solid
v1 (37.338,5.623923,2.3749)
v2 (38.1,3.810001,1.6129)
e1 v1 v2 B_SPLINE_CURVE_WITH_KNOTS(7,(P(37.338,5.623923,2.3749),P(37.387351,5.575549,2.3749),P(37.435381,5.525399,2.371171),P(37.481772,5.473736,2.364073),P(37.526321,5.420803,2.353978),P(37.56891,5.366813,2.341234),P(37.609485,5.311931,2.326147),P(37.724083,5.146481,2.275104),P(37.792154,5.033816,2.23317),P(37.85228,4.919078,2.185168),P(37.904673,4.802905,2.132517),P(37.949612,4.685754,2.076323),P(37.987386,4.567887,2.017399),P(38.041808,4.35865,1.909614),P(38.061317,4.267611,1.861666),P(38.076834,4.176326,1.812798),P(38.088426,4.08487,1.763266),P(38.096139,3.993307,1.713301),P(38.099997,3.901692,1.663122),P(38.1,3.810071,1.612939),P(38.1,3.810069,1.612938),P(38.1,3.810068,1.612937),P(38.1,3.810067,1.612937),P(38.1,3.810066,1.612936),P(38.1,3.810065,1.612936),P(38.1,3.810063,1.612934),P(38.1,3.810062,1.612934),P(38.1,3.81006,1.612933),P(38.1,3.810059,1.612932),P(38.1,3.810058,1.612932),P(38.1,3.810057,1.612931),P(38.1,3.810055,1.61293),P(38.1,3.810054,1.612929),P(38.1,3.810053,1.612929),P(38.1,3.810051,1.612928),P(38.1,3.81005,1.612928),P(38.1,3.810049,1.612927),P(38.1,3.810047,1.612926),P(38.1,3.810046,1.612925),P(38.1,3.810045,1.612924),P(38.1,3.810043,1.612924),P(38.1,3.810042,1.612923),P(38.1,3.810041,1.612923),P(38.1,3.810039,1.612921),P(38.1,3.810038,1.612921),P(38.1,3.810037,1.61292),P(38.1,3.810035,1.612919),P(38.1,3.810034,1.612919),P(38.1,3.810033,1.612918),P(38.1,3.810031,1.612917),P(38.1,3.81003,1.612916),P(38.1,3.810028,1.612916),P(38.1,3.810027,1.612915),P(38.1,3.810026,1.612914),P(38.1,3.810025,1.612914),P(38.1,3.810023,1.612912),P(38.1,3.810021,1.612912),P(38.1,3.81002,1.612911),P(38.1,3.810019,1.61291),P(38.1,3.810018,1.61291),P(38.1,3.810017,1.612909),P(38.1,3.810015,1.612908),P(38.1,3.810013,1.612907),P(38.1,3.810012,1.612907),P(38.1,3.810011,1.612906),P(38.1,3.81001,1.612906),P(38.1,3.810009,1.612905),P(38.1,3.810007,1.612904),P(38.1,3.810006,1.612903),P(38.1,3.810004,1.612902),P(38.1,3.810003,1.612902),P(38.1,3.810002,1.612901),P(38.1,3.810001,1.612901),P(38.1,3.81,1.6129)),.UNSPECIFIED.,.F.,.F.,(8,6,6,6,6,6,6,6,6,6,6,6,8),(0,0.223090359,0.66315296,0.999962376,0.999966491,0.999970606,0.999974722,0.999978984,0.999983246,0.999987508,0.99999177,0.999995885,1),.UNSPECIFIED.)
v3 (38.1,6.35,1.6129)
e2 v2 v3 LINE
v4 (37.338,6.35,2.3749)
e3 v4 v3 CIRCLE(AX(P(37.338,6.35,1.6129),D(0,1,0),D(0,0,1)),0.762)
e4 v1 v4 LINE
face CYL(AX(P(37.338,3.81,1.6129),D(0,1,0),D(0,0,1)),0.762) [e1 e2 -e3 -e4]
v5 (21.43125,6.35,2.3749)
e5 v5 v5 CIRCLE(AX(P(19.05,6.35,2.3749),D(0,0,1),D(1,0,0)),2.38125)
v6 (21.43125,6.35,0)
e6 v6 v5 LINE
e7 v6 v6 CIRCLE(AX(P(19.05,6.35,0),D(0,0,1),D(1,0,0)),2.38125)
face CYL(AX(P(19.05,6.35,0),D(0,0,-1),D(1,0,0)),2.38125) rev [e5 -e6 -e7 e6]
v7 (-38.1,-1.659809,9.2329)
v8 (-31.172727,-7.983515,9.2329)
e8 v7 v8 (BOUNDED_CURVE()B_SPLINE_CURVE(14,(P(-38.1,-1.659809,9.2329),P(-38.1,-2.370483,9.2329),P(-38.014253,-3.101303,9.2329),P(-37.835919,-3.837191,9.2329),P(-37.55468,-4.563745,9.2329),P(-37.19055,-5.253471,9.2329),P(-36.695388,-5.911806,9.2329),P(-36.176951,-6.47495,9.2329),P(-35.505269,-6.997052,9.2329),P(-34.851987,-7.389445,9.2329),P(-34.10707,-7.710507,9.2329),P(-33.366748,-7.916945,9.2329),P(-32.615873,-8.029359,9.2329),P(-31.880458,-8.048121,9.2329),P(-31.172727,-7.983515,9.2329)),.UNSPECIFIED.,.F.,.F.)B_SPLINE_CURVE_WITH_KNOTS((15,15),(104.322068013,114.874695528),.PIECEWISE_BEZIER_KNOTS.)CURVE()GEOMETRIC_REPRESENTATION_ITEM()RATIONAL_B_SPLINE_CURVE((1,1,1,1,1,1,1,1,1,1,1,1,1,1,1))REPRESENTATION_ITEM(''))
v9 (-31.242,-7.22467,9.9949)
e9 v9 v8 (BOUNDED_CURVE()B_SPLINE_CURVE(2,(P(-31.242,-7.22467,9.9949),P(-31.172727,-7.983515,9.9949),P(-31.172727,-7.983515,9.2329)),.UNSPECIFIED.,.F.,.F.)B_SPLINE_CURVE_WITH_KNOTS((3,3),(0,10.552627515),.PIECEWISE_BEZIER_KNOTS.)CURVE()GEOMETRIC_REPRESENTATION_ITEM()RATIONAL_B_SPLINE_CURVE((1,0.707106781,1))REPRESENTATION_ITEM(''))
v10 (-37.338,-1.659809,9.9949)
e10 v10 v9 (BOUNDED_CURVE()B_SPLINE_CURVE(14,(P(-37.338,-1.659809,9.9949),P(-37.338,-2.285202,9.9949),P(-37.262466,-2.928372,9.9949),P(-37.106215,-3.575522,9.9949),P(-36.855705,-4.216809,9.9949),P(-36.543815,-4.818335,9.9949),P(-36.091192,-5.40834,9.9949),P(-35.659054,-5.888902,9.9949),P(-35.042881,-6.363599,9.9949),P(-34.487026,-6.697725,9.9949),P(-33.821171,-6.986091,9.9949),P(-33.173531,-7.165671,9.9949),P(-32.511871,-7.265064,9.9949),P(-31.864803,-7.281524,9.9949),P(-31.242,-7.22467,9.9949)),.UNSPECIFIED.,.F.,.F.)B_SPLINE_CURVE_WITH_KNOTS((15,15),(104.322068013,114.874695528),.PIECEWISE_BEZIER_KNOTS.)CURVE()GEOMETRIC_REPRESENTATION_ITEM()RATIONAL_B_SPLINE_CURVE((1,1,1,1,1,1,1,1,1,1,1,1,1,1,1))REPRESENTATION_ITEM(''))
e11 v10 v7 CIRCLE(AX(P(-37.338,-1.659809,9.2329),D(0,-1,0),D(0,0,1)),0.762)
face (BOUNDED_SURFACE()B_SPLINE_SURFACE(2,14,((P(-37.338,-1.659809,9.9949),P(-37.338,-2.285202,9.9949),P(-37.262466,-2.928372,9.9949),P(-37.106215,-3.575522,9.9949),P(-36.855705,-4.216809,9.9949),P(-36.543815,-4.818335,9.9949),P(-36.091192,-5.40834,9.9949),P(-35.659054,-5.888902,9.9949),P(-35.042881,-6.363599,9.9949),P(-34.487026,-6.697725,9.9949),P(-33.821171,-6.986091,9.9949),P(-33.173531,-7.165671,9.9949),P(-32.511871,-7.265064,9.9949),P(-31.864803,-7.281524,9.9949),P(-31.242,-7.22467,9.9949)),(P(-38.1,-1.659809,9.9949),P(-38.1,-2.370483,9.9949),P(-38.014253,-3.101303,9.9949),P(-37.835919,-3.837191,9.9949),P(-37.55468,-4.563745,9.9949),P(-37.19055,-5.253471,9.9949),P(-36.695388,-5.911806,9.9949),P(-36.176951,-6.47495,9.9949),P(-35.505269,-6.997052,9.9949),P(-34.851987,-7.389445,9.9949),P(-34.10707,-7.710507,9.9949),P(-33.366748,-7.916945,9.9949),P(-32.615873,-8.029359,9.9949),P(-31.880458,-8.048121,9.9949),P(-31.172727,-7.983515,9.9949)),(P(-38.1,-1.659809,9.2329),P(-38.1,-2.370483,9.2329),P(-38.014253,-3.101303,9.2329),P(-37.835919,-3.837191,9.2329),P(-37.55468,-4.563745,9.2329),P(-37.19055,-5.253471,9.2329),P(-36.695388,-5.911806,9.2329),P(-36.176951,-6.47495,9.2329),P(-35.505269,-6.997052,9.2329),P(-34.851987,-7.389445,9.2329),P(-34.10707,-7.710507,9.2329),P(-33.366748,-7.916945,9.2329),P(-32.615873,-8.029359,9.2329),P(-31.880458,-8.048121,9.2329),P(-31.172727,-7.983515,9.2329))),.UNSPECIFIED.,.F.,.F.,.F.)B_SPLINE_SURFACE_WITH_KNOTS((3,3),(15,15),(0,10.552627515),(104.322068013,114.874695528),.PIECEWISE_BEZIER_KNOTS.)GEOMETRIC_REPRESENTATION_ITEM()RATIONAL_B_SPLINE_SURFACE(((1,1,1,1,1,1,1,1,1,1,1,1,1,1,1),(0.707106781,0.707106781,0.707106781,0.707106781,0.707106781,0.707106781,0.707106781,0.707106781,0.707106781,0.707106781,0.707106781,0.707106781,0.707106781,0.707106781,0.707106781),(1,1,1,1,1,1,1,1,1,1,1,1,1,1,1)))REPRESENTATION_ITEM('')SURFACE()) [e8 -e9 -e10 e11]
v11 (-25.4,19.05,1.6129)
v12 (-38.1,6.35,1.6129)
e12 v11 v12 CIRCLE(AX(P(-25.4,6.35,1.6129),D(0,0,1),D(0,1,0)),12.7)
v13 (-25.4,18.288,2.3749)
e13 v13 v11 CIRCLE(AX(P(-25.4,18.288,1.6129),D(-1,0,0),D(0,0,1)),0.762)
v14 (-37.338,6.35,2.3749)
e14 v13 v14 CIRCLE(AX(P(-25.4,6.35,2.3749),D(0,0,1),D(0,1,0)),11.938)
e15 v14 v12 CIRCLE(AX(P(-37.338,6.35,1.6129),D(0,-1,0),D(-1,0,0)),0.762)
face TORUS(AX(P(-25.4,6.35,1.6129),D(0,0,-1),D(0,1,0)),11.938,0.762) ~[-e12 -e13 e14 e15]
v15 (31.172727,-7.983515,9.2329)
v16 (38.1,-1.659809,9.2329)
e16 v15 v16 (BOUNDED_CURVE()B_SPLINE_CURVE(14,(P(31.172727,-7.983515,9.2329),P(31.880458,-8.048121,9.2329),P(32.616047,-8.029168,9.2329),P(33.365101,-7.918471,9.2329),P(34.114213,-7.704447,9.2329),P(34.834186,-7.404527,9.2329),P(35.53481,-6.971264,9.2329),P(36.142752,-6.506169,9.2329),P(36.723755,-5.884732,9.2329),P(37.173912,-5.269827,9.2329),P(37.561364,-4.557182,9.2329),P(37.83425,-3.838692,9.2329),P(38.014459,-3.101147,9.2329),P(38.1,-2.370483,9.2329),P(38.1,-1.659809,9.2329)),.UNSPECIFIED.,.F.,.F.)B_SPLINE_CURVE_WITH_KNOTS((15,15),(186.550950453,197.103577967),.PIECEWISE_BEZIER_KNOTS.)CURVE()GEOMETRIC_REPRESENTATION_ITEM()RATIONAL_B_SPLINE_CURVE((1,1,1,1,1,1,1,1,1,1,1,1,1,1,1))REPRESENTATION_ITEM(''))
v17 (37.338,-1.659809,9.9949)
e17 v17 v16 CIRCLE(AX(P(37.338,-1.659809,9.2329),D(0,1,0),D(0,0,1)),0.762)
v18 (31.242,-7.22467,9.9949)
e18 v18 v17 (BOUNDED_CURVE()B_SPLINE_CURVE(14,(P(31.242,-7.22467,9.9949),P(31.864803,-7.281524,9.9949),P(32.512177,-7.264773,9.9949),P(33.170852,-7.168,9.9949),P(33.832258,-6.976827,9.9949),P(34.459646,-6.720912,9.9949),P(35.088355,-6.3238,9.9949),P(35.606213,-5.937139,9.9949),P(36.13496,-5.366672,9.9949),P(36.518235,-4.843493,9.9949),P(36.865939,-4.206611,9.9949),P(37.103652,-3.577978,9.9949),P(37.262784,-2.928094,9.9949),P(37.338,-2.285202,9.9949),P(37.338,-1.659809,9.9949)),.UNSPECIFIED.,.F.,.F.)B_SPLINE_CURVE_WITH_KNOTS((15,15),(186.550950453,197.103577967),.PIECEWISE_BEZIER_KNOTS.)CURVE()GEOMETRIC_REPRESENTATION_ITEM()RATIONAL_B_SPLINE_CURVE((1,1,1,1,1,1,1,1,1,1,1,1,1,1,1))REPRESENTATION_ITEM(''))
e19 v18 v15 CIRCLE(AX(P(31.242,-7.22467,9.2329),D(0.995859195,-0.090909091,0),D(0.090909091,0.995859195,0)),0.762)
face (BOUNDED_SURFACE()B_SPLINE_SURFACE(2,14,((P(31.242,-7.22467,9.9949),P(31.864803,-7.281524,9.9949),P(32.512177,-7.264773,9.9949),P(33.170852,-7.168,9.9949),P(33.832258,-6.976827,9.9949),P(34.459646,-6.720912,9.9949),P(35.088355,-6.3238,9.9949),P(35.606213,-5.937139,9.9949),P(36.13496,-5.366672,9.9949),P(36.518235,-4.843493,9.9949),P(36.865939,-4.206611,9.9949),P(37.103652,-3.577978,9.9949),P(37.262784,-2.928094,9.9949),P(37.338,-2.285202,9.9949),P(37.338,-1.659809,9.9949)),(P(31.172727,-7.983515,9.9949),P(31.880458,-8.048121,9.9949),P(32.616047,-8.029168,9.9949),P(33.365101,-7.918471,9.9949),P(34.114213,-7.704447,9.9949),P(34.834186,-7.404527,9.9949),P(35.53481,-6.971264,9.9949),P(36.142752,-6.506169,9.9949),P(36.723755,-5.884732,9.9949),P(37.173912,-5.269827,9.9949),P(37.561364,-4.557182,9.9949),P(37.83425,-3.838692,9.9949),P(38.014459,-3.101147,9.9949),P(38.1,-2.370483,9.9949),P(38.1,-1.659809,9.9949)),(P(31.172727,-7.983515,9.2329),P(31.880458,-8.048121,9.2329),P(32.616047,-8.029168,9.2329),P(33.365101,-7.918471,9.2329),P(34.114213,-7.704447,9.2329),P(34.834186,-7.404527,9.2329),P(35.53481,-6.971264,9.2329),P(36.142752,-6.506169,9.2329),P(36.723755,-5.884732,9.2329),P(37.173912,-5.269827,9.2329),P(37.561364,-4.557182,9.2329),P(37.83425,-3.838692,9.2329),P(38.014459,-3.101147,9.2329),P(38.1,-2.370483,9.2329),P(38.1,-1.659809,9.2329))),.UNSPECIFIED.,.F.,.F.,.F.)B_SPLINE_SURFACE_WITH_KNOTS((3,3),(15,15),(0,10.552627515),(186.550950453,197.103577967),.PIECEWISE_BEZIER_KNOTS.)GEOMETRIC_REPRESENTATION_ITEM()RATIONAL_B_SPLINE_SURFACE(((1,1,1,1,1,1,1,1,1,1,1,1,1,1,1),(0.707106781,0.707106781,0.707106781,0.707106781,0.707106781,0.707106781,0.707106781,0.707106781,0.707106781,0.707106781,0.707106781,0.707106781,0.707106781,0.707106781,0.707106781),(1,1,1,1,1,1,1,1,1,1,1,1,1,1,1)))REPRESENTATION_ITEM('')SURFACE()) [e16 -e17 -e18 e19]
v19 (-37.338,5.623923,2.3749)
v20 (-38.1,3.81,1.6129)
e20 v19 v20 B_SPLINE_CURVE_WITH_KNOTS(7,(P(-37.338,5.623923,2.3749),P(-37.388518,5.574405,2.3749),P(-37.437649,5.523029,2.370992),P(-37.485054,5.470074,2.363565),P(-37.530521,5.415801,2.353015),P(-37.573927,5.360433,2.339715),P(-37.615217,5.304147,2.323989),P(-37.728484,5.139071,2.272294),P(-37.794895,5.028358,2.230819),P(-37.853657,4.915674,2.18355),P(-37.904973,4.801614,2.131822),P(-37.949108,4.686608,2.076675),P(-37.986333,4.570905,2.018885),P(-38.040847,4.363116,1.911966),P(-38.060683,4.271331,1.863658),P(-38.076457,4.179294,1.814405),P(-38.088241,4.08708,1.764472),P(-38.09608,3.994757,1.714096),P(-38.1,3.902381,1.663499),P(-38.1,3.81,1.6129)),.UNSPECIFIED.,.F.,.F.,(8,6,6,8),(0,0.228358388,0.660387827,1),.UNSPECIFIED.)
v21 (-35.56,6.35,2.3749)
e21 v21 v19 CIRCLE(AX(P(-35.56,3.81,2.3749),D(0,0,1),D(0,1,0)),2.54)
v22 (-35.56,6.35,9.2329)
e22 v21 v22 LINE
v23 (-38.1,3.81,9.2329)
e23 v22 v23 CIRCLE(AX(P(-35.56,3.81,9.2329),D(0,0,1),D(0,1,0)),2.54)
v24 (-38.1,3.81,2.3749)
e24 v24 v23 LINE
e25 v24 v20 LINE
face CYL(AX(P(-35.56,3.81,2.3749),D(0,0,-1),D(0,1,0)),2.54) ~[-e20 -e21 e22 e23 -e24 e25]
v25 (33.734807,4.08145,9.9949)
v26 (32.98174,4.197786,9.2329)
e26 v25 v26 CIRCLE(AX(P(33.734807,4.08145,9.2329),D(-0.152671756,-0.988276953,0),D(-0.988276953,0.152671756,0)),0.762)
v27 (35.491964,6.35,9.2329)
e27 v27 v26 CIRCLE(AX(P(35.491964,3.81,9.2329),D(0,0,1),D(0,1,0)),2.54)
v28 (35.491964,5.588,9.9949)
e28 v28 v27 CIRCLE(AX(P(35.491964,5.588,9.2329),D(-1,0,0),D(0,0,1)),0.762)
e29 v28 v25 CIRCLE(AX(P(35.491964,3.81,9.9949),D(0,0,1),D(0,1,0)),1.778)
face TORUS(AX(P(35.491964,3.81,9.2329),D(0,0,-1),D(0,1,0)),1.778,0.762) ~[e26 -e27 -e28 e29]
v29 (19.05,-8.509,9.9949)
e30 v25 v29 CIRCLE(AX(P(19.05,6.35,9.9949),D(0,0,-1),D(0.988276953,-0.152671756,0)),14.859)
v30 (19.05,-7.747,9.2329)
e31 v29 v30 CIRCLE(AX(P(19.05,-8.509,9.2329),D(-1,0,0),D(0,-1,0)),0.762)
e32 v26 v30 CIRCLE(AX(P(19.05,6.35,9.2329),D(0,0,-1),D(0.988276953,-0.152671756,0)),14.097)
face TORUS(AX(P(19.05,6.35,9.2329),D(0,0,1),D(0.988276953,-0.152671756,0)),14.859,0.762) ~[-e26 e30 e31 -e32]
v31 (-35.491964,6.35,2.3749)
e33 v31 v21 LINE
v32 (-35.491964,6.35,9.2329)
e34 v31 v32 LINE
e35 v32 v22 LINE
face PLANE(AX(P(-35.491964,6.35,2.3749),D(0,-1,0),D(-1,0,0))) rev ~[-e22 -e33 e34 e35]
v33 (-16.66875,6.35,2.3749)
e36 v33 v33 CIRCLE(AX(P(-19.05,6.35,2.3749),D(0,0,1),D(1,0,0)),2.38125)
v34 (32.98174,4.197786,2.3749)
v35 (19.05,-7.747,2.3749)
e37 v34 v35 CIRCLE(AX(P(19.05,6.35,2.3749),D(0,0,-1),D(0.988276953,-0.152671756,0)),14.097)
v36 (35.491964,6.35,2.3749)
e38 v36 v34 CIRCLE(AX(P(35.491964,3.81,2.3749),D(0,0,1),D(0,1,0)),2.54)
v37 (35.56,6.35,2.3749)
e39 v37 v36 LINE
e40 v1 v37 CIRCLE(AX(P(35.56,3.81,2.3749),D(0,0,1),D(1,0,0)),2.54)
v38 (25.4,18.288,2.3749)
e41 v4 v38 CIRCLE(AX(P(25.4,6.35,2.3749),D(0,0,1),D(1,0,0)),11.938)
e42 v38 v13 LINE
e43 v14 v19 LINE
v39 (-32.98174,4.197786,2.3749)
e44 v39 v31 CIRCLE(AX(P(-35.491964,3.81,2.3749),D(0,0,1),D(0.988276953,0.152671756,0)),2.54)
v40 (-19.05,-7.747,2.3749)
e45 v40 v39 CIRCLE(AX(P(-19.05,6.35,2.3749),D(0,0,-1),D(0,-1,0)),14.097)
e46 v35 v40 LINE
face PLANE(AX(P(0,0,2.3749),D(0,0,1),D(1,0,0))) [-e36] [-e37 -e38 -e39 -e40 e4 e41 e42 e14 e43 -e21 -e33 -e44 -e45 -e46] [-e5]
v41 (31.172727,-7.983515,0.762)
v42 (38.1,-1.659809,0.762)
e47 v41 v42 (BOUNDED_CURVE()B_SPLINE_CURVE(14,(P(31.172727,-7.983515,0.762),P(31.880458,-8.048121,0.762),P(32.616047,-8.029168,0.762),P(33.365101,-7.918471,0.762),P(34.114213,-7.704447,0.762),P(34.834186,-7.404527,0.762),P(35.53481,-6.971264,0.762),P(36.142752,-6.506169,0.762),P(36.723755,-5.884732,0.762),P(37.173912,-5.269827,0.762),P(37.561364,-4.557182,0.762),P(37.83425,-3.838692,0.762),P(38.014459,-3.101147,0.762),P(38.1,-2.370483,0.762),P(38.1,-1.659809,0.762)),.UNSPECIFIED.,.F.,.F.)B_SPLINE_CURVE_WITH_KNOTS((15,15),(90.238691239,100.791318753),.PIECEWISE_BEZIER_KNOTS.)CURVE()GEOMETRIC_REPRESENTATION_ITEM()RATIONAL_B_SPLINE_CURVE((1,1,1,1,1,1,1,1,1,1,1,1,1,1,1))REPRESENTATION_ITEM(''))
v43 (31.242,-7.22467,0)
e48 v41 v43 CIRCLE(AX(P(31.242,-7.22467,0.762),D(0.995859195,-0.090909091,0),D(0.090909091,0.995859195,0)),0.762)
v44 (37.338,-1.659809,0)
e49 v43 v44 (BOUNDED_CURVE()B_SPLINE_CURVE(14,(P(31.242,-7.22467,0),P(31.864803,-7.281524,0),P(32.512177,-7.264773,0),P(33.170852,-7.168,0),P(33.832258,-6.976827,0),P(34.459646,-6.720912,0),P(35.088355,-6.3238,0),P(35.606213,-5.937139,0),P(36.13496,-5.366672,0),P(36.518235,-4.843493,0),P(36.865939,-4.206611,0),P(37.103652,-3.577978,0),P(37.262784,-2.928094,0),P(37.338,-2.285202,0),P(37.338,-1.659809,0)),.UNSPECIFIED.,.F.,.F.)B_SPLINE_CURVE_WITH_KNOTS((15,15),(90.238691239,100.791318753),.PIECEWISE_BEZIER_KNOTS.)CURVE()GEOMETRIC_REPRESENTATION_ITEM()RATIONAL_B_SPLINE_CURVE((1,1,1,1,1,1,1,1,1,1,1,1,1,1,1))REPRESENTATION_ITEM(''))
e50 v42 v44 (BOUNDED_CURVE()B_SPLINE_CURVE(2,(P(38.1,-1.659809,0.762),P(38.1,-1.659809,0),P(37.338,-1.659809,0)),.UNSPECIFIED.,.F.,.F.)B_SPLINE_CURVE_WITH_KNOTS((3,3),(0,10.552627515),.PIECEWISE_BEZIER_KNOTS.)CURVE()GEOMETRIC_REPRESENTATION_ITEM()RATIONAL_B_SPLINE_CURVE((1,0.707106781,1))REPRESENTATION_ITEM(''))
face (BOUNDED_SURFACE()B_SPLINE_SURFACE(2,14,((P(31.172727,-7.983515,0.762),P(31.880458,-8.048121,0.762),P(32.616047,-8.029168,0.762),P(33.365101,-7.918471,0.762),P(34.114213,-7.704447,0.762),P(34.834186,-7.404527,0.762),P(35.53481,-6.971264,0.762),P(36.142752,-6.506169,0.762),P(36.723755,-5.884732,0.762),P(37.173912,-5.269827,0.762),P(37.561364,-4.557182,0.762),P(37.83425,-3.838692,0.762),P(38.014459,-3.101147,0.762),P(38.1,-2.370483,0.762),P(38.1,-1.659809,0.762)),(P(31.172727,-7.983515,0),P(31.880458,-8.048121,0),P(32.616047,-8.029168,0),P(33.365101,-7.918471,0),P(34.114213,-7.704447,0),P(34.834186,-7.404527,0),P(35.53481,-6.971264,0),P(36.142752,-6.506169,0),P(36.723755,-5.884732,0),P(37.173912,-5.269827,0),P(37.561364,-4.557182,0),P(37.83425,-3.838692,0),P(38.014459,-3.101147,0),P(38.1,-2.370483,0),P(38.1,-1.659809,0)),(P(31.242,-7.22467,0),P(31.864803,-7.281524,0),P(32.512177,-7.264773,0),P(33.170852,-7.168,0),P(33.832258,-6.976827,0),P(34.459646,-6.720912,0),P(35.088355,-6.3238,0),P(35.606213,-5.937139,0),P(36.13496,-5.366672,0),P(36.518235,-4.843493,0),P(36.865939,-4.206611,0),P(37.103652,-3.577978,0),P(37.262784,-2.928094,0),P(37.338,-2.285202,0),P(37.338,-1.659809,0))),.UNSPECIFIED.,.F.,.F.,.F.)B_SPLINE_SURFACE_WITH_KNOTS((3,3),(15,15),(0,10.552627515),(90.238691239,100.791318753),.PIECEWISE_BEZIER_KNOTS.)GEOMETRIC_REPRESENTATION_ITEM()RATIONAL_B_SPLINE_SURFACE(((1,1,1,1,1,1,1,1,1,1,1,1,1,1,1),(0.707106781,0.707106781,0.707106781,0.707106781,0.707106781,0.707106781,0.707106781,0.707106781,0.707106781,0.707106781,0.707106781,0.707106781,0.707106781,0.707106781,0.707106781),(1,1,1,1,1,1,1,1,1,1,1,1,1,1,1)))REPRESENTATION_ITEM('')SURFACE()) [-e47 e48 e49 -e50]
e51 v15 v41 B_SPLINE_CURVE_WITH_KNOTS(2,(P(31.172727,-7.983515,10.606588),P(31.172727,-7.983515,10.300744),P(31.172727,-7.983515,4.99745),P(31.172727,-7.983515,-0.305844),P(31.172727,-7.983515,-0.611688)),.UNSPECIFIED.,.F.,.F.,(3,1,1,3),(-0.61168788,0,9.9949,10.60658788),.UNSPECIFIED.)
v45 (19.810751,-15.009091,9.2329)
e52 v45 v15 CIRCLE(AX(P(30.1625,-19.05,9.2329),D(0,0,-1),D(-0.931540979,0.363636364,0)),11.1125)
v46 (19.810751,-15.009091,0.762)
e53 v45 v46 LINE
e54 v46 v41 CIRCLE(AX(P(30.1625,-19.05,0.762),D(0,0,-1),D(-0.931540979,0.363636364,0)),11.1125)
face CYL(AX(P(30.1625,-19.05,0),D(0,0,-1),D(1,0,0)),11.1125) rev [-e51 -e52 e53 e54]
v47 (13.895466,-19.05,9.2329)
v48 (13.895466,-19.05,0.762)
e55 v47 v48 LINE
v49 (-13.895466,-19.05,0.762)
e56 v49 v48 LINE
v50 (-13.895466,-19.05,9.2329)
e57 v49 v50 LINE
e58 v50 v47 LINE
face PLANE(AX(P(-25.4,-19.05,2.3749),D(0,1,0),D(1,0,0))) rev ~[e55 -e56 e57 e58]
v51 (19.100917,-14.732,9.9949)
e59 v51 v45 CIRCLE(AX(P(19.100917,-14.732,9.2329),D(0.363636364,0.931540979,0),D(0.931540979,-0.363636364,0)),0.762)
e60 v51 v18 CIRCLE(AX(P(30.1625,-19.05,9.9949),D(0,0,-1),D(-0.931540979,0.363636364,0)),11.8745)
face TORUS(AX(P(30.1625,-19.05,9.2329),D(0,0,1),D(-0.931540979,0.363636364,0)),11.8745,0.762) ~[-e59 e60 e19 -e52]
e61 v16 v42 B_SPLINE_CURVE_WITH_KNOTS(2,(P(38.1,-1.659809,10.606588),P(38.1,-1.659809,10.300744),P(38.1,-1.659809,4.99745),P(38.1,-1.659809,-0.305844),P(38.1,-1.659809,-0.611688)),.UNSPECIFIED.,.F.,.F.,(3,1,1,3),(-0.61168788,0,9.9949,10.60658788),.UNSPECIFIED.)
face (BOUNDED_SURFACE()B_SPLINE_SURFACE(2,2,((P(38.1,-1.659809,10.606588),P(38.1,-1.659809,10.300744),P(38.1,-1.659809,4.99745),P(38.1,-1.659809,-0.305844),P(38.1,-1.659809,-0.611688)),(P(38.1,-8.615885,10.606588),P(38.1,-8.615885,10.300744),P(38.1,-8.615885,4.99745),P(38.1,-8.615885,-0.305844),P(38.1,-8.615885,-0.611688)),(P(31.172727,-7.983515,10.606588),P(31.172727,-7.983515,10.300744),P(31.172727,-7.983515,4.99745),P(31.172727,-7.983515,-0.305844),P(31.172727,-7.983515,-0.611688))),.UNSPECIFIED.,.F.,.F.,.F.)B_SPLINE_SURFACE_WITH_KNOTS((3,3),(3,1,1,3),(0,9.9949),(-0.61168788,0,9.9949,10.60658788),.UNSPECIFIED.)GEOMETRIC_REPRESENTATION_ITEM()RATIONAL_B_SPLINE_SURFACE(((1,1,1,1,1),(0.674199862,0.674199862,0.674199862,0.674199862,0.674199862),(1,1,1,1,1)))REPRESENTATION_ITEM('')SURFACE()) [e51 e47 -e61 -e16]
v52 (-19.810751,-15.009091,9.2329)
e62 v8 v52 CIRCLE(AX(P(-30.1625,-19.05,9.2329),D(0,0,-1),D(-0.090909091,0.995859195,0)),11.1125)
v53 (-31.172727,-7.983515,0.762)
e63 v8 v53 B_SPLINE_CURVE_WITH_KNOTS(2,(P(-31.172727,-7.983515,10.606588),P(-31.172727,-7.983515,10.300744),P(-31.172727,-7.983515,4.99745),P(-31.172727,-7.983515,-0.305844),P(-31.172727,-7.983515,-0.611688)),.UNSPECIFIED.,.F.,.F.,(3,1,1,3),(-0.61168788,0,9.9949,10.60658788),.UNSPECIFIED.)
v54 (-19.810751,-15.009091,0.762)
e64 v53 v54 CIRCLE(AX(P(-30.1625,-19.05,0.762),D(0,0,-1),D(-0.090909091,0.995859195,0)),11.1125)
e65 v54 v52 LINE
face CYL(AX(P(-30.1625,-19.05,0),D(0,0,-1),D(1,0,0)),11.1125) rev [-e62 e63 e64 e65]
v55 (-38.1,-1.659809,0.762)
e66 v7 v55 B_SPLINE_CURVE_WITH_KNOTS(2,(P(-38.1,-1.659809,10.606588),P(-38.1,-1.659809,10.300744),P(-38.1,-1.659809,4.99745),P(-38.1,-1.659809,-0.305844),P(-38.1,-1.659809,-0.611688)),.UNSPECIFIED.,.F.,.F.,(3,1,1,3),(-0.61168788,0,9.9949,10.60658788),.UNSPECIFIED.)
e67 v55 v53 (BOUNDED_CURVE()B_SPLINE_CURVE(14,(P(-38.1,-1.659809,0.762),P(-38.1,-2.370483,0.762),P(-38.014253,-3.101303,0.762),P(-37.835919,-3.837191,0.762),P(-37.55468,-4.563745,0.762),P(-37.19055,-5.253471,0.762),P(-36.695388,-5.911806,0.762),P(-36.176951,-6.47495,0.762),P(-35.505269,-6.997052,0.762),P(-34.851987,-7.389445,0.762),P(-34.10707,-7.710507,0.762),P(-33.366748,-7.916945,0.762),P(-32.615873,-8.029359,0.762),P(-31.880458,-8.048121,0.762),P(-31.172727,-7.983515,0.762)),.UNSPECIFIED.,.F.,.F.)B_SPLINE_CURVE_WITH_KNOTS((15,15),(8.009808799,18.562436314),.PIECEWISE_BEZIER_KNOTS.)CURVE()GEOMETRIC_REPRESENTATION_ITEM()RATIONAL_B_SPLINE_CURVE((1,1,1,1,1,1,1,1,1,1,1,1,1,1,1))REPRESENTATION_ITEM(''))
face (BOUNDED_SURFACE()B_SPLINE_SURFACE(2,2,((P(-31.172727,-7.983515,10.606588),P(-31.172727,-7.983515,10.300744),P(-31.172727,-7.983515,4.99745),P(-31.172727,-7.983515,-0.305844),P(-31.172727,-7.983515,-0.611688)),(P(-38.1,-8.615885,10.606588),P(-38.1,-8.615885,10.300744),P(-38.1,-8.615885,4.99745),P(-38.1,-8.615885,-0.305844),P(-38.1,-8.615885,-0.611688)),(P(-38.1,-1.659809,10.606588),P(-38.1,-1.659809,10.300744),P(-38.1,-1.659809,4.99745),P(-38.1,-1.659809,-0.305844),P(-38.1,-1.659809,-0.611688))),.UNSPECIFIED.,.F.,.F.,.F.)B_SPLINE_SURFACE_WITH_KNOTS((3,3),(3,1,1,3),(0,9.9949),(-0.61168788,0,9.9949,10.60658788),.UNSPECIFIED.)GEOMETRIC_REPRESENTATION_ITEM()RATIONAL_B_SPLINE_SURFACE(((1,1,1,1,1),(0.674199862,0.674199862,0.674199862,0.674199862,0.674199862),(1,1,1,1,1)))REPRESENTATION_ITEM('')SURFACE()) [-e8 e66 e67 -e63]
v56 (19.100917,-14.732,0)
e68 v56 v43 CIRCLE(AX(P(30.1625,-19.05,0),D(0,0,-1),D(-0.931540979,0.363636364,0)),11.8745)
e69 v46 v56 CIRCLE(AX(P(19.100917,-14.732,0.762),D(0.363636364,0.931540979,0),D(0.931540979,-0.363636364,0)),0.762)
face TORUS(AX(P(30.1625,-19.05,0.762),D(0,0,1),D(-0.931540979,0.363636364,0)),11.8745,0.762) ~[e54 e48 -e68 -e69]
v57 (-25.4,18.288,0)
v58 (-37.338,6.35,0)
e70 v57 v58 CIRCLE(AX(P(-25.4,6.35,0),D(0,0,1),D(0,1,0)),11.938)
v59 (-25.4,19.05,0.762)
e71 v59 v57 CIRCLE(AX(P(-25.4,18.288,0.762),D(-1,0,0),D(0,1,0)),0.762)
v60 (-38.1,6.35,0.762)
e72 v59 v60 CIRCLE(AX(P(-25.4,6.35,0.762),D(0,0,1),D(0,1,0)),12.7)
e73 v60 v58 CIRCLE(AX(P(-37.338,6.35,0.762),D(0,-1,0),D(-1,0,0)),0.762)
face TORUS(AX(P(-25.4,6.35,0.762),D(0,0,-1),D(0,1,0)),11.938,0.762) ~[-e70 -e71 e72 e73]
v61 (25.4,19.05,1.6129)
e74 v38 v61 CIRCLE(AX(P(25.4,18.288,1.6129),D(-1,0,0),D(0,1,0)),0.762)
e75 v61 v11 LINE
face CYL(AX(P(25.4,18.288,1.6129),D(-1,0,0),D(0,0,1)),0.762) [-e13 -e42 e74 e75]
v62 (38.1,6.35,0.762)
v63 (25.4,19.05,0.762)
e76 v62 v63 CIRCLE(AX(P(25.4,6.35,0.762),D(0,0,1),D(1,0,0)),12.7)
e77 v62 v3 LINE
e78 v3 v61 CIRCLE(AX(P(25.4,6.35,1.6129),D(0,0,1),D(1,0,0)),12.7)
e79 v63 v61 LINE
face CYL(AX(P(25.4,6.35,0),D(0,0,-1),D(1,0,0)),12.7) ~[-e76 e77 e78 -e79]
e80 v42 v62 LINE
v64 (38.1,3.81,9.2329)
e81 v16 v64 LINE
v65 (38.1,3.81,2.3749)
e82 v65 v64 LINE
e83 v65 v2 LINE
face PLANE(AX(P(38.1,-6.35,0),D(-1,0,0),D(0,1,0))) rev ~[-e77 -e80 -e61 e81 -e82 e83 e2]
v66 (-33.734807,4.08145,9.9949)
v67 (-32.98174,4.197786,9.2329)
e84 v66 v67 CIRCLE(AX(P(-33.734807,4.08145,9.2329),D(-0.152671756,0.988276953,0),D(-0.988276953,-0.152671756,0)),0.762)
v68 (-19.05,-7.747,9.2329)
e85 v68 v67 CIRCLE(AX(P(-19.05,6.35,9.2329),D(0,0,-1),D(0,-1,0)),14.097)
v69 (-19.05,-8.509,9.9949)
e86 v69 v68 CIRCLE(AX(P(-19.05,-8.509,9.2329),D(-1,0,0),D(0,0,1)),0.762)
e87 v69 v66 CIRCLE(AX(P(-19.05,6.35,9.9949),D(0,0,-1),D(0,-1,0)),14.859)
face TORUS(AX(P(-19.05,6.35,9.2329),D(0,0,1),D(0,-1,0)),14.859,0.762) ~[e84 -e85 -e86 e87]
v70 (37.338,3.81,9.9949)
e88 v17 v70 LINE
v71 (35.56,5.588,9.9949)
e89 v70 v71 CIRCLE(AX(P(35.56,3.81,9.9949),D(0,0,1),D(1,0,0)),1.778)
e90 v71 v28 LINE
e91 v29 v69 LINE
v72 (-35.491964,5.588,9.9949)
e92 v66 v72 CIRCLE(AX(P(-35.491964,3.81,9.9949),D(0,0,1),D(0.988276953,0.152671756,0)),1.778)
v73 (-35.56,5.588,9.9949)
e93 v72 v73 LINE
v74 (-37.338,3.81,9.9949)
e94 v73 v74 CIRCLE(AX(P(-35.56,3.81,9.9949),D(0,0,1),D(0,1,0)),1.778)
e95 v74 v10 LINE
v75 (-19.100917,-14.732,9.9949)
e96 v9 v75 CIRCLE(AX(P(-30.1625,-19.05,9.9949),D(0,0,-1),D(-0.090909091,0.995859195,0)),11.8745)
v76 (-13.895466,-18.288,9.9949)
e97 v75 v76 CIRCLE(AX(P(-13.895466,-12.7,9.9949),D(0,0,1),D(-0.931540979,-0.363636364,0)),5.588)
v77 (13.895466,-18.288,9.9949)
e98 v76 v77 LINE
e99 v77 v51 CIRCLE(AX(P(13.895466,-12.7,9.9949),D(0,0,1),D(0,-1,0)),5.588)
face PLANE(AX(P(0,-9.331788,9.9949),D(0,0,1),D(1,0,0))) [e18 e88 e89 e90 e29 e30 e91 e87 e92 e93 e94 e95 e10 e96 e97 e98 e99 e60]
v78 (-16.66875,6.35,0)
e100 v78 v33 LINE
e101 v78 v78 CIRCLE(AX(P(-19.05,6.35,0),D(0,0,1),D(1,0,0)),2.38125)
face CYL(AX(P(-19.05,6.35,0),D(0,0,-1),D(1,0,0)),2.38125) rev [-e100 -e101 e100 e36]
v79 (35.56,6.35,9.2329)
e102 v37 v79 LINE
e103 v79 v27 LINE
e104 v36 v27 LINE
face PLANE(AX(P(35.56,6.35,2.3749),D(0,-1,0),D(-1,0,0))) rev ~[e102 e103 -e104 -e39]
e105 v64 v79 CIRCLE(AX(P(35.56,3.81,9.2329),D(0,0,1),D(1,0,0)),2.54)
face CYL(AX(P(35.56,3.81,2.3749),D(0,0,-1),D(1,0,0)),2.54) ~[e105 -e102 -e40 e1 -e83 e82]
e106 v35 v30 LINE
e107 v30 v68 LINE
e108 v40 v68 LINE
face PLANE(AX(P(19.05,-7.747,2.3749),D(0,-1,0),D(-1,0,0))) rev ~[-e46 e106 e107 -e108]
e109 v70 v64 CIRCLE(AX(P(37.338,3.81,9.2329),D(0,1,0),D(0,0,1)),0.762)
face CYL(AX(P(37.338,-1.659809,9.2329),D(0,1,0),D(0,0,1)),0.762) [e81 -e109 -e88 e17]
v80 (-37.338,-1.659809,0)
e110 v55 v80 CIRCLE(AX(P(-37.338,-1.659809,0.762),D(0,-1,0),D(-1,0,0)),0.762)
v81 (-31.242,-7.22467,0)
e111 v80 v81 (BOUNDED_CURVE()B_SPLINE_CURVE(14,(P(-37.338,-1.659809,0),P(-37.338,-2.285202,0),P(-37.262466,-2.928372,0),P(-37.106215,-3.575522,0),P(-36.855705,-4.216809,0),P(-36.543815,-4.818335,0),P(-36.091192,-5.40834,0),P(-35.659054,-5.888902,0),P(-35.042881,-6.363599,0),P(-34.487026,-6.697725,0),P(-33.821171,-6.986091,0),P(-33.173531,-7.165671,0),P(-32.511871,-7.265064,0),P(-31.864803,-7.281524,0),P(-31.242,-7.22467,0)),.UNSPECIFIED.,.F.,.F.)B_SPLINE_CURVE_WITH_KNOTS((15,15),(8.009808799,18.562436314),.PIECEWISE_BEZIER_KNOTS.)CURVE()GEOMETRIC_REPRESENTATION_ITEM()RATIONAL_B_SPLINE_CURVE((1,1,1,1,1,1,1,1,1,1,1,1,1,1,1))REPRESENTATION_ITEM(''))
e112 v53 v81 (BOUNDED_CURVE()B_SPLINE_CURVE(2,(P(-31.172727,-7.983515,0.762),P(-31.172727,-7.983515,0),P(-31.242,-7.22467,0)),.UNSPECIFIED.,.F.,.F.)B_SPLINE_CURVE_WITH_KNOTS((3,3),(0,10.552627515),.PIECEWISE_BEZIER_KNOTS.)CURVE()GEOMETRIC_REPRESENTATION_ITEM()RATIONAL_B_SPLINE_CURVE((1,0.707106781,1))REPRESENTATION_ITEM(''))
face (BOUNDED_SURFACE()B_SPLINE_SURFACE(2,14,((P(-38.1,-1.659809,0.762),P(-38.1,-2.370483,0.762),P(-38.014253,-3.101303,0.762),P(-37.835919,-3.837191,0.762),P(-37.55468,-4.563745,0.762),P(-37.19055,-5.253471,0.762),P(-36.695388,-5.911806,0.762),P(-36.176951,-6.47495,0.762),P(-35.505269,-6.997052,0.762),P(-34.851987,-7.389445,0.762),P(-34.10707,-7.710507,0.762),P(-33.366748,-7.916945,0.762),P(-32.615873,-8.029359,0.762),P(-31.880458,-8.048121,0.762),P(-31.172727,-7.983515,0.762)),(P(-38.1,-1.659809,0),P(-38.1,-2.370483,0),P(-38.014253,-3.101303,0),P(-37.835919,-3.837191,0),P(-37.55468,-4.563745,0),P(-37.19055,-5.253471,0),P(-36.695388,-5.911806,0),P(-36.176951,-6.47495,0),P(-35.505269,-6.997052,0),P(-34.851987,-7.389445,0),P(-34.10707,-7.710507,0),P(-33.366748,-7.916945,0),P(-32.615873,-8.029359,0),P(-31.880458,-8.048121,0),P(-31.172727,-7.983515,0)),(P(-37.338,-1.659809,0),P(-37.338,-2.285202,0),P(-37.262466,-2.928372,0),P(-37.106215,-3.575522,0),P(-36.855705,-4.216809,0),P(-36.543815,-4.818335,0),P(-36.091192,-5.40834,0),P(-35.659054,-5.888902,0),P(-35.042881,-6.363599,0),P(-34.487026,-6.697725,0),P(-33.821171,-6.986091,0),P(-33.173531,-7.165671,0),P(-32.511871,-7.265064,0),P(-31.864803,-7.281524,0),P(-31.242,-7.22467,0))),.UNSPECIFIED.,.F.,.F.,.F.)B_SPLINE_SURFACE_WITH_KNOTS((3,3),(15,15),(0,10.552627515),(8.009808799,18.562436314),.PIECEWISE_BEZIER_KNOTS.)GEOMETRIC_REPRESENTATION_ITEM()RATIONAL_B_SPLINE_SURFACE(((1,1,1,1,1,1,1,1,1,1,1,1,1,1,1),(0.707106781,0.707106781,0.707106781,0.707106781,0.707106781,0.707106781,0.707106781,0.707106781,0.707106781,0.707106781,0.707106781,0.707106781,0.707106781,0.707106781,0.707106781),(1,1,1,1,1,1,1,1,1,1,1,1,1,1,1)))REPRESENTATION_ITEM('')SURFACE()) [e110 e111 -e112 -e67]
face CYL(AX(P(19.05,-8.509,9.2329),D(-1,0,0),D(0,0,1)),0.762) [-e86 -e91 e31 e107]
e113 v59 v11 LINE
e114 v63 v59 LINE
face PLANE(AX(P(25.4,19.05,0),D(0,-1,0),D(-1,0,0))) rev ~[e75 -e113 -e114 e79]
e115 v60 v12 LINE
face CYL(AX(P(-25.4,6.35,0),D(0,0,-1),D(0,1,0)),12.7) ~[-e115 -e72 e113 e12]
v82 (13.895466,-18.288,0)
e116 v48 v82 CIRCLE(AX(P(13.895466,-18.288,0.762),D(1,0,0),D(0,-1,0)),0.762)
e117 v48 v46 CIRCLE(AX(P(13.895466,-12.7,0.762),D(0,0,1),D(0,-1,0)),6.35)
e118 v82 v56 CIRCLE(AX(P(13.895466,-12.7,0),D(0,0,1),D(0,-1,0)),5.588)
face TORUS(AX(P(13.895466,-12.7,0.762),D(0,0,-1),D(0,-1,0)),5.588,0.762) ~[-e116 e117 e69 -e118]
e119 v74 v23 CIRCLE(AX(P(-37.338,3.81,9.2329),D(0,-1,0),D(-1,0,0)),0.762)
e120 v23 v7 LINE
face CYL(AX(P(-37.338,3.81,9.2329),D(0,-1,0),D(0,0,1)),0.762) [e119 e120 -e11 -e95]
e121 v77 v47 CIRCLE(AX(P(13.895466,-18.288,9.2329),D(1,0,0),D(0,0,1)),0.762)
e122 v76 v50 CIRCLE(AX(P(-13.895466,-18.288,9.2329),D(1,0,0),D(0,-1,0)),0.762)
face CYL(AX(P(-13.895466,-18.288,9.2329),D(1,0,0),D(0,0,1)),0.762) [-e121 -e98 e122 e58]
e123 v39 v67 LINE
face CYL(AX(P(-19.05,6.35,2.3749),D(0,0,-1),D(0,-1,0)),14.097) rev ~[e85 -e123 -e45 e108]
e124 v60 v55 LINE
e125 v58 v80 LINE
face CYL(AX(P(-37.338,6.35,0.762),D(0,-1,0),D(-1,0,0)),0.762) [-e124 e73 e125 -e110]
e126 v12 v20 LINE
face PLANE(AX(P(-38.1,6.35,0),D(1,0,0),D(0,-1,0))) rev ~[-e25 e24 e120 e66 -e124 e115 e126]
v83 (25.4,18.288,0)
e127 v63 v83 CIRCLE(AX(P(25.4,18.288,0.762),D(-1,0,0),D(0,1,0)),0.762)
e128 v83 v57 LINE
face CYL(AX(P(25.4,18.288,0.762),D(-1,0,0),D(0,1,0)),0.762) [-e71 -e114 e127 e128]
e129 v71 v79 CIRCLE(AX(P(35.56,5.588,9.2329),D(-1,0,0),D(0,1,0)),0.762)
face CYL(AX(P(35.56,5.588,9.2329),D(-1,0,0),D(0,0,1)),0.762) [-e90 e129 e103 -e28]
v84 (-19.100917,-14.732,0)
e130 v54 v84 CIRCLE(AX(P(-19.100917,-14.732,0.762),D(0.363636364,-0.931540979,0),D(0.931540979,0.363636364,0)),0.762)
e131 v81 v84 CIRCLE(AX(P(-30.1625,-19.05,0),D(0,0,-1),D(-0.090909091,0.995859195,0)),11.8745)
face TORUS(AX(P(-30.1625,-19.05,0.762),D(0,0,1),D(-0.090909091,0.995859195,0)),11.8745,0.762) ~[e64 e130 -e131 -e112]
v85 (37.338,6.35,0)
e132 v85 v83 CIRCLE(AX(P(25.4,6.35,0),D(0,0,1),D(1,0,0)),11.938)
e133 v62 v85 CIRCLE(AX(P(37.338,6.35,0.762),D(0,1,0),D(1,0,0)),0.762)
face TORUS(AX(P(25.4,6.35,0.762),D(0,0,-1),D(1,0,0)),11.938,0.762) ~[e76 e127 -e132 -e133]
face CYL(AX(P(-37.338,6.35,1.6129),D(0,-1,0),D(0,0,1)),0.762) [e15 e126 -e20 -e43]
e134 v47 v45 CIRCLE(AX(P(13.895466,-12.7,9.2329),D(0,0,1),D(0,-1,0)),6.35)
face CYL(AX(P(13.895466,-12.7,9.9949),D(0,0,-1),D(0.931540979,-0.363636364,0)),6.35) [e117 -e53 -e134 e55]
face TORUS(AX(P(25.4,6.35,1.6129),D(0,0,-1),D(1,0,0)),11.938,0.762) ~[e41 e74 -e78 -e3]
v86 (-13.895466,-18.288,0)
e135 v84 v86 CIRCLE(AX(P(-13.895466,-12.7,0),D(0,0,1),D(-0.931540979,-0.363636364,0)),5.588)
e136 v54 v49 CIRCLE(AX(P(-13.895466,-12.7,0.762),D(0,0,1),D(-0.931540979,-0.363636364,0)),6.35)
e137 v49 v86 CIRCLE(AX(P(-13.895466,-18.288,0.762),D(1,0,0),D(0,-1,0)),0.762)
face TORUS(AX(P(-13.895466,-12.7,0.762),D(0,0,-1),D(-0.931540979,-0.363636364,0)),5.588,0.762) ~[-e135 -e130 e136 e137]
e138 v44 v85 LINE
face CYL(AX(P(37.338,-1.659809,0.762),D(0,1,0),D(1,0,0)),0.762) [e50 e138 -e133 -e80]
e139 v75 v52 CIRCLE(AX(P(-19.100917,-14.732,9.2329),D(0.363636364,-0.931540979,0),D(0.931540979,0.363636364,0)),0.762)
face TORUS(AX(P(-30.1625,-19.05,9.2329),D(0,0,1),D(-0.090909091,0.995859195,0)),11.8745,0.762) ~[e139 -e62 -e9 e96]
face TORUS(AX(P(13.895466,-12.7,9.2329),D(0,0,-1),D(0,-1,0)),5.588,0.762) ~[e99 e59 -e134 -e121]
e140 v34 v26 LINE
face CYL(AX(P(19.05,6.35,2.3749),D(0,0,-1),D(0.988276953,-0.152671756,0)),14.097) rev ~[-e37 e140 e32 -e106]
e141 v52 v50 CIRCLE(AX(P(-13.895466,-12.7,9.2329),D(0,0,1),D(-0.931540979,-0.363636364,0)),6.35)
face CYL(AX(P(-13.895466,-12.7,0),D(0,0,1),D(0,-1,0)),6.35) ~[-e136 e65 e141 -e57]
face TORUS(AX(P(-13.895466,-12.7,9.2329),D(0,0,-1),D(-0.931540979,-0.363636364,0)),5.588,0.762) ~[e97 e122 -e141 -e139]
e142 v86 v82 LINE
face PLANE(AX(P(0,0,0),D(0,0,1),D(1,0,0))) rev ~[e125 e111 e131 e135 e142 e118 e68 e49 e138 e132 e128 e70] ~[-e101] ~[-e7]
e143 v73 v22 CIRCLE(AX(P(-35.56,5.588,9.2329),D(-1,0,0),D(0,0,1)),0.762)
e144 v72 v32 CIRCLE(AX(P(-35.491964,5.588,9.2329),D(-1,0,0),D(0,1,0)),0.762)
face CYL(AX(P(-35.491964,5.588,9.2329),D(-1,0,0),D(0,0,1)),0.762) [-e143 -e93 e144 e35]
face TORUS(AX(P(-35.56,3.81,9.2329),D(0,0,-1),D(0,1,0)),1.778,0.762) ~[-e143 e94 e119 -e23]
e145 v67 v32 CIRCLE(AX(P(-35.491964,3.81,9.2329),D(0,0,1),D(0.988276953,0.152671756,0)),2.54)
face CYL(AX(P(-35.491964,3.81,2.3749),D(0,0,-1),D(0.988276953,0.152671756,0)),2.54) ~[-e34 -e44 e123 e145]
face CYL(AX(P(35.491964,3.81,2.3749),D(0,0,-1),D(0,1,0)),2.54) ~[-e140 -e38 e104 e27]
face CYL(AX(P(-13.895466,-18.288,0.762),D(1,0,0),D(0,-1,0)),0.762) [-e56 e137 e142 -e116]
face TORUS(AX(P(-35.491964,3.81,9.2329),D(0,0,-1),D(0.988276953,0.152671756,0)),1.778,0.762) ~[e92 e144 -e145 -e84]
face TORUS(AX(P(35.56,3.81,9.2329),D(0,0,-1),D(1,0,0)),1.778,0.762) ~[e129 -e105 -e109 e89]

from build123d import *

# Parameters (mm, degrees)
F0_R     = 2.38125
F1_DEPTH = 2.3749
F3_DEPTH = 7.62
F4_R     = 11.1125
F5_DEPTH = 25.4
F6_R     = 6.35
F7_R     = 0.762


with BuildPart() as f1:
    # F0 (on Top) → F1 (new body)
    with BuildSketch(Plane.XY):
        with BuildLine():
            ThreePointArc((38.1, 6.35), (34.3802561211, 15.3302561211), (25.4, 19.05))
            Line((25.4, 19.05), (-25.4, 19.05))
            ThreePointArc((-25.4, 19.05), (-34.3802561211, 15.3302561211), (-38.1, 6.35))
            Line((-38.1, 6.35), (-38.1, -6.35))
            ThreePointArc((-38.1, -6.35), (-34.3802561211, -15.3302561211), (-25.4, -19.05))
            Line((-25.4, -19.05), (25.4, -19.05))
            ThreePointArc((25.4, -19.05), (34.3802561211, -15.3302561211), (38.1, -6.35))
            Line((38.1, -6.35), (38.1, 6.35))
        make_face()
        with Locations((-19.05, 6.35)):
            Circle(F0_R, mode=Mode.SUBTRACT)
        with Locations((19.05, 6.35)):
            Circle(F0_R, mode=Mode.SUBTRACT)
    extrude(amount=F1_DEPTH)

    # F2 (on face) → F3 (join)
    with BuildSketch(Plane.XY.offset(2.3749)):
        with BuildLine():
            ThreePointArc((-19.05, -7.747), (-28.2256648778, -4.3519896771), (-32.9817402005, 4.1977862595))
            ThreePointArc((-32.9817402005, 4.1977862595), (-33.8386907091, 5.7382864283), (-35.4919636601, 6.35))
            Line((-35.4919636601, 6.35), (-35.56, 6.35))
            ThreePointArc((-35.56, 6.35), (-37.3560512242, 5.6060512242), (-38.1, 3.81))
            Line((-38.1, 3.81), (-38.1, -6.35))
            ThreePointArc((-38.1, -6.35), (-34.3802561211, -15.3302561211), (-25.4, -19.05))
            Line((-25.4, -19.05), (25.4, -19.05))
            ThreePointArc((25.4, -19.05), (34.3802561211, -15.3302561211), (38.1, -6.35))
            Line((38.1, -6.35), (38.1, 3.81))
            ThreePointArc((38.1, 3.81), (37.3560512242, 5.6060512242), (35.56, 6.35))
            Line((35.56, 6.35), (35.4919636601, 6.35))
            ThreePointArc((35.4919636601, 6.35), (33.8386907091, 5.7382864283), (32.9817402005, 4.1977862595))
            ThreePointArc((32.9817402005, 4.1977862595), (28.2256648778, -4.3519896771), (19.05, -7.747))
            Line((19.05, -7.747), (-19.05, -7.747))
        make_face()
    extrude(amount=F3_DEPTH)

    # F4 (on Top) → F5 (cut)
    with BuildSketch(Plane.XY):
        with Locations((-30.1625, -19.05)):
            Circle(F4_R)
        with Locations((30.1625, -19.05)):
            Circle(F4_R)
    extrude(amount=F5_DEPTH, mode=Mode.SUBTRACT)

    # F6
    f6_edges = [f1.edges().sort_by_distance(p)[0] for p in [
        (-37.370496, -10.592314, 4.99745),
        (-19.05, -19.05, 4.99745),
        (19.05, -19.05, 4.99745),
        (37.370496, -10.592314, 4.99745),
    ]]
    fillet(f6_edges, radius=F6_R)

    # F7
    f7_edges = [f1.edges().sort_by_distance(p)[0] for p in [
        (38.1, 1.075096, 9.9949),
        (36.031169, -6.349595, 9.9949),
        (37.356051, 5.606051, 9.9949),
        (24.318213, -9.598441, 9.9949),
        (35.525982, 6.35, 9.9949),
        (17.477349, -17.94334, 9.9949),
        (33.838691, 5.738286, 9.9949),
        (0, -19.05, 9.9949),
        (28.225665, -4.35199, 9.9949),
        (-17.477349, -17.94334, 9.9949),
        (0, -7.747, 9.9949),
        (-24.318213, -9.598441, 9.9949),
        (-28.225665, -4.35199, 9.9949),
        (-36.031169, -6.349595, 9.9949),
        (-33.838691, 5.738286, 9.9949),
        (-38.1, 1.075096, 9.9949),
        (-35.525982, 6.35, 9.9949),
        (-37.356051, 5.606051, 9.9949),
        (0, 19.05, 2.3749),
        (-34.380256, 15.330256, 2.3749),
        (-38.1, 2.345096, 0),
    ]]
    fillet(f7_edges, radius=F7_R)


solid = f1.part
